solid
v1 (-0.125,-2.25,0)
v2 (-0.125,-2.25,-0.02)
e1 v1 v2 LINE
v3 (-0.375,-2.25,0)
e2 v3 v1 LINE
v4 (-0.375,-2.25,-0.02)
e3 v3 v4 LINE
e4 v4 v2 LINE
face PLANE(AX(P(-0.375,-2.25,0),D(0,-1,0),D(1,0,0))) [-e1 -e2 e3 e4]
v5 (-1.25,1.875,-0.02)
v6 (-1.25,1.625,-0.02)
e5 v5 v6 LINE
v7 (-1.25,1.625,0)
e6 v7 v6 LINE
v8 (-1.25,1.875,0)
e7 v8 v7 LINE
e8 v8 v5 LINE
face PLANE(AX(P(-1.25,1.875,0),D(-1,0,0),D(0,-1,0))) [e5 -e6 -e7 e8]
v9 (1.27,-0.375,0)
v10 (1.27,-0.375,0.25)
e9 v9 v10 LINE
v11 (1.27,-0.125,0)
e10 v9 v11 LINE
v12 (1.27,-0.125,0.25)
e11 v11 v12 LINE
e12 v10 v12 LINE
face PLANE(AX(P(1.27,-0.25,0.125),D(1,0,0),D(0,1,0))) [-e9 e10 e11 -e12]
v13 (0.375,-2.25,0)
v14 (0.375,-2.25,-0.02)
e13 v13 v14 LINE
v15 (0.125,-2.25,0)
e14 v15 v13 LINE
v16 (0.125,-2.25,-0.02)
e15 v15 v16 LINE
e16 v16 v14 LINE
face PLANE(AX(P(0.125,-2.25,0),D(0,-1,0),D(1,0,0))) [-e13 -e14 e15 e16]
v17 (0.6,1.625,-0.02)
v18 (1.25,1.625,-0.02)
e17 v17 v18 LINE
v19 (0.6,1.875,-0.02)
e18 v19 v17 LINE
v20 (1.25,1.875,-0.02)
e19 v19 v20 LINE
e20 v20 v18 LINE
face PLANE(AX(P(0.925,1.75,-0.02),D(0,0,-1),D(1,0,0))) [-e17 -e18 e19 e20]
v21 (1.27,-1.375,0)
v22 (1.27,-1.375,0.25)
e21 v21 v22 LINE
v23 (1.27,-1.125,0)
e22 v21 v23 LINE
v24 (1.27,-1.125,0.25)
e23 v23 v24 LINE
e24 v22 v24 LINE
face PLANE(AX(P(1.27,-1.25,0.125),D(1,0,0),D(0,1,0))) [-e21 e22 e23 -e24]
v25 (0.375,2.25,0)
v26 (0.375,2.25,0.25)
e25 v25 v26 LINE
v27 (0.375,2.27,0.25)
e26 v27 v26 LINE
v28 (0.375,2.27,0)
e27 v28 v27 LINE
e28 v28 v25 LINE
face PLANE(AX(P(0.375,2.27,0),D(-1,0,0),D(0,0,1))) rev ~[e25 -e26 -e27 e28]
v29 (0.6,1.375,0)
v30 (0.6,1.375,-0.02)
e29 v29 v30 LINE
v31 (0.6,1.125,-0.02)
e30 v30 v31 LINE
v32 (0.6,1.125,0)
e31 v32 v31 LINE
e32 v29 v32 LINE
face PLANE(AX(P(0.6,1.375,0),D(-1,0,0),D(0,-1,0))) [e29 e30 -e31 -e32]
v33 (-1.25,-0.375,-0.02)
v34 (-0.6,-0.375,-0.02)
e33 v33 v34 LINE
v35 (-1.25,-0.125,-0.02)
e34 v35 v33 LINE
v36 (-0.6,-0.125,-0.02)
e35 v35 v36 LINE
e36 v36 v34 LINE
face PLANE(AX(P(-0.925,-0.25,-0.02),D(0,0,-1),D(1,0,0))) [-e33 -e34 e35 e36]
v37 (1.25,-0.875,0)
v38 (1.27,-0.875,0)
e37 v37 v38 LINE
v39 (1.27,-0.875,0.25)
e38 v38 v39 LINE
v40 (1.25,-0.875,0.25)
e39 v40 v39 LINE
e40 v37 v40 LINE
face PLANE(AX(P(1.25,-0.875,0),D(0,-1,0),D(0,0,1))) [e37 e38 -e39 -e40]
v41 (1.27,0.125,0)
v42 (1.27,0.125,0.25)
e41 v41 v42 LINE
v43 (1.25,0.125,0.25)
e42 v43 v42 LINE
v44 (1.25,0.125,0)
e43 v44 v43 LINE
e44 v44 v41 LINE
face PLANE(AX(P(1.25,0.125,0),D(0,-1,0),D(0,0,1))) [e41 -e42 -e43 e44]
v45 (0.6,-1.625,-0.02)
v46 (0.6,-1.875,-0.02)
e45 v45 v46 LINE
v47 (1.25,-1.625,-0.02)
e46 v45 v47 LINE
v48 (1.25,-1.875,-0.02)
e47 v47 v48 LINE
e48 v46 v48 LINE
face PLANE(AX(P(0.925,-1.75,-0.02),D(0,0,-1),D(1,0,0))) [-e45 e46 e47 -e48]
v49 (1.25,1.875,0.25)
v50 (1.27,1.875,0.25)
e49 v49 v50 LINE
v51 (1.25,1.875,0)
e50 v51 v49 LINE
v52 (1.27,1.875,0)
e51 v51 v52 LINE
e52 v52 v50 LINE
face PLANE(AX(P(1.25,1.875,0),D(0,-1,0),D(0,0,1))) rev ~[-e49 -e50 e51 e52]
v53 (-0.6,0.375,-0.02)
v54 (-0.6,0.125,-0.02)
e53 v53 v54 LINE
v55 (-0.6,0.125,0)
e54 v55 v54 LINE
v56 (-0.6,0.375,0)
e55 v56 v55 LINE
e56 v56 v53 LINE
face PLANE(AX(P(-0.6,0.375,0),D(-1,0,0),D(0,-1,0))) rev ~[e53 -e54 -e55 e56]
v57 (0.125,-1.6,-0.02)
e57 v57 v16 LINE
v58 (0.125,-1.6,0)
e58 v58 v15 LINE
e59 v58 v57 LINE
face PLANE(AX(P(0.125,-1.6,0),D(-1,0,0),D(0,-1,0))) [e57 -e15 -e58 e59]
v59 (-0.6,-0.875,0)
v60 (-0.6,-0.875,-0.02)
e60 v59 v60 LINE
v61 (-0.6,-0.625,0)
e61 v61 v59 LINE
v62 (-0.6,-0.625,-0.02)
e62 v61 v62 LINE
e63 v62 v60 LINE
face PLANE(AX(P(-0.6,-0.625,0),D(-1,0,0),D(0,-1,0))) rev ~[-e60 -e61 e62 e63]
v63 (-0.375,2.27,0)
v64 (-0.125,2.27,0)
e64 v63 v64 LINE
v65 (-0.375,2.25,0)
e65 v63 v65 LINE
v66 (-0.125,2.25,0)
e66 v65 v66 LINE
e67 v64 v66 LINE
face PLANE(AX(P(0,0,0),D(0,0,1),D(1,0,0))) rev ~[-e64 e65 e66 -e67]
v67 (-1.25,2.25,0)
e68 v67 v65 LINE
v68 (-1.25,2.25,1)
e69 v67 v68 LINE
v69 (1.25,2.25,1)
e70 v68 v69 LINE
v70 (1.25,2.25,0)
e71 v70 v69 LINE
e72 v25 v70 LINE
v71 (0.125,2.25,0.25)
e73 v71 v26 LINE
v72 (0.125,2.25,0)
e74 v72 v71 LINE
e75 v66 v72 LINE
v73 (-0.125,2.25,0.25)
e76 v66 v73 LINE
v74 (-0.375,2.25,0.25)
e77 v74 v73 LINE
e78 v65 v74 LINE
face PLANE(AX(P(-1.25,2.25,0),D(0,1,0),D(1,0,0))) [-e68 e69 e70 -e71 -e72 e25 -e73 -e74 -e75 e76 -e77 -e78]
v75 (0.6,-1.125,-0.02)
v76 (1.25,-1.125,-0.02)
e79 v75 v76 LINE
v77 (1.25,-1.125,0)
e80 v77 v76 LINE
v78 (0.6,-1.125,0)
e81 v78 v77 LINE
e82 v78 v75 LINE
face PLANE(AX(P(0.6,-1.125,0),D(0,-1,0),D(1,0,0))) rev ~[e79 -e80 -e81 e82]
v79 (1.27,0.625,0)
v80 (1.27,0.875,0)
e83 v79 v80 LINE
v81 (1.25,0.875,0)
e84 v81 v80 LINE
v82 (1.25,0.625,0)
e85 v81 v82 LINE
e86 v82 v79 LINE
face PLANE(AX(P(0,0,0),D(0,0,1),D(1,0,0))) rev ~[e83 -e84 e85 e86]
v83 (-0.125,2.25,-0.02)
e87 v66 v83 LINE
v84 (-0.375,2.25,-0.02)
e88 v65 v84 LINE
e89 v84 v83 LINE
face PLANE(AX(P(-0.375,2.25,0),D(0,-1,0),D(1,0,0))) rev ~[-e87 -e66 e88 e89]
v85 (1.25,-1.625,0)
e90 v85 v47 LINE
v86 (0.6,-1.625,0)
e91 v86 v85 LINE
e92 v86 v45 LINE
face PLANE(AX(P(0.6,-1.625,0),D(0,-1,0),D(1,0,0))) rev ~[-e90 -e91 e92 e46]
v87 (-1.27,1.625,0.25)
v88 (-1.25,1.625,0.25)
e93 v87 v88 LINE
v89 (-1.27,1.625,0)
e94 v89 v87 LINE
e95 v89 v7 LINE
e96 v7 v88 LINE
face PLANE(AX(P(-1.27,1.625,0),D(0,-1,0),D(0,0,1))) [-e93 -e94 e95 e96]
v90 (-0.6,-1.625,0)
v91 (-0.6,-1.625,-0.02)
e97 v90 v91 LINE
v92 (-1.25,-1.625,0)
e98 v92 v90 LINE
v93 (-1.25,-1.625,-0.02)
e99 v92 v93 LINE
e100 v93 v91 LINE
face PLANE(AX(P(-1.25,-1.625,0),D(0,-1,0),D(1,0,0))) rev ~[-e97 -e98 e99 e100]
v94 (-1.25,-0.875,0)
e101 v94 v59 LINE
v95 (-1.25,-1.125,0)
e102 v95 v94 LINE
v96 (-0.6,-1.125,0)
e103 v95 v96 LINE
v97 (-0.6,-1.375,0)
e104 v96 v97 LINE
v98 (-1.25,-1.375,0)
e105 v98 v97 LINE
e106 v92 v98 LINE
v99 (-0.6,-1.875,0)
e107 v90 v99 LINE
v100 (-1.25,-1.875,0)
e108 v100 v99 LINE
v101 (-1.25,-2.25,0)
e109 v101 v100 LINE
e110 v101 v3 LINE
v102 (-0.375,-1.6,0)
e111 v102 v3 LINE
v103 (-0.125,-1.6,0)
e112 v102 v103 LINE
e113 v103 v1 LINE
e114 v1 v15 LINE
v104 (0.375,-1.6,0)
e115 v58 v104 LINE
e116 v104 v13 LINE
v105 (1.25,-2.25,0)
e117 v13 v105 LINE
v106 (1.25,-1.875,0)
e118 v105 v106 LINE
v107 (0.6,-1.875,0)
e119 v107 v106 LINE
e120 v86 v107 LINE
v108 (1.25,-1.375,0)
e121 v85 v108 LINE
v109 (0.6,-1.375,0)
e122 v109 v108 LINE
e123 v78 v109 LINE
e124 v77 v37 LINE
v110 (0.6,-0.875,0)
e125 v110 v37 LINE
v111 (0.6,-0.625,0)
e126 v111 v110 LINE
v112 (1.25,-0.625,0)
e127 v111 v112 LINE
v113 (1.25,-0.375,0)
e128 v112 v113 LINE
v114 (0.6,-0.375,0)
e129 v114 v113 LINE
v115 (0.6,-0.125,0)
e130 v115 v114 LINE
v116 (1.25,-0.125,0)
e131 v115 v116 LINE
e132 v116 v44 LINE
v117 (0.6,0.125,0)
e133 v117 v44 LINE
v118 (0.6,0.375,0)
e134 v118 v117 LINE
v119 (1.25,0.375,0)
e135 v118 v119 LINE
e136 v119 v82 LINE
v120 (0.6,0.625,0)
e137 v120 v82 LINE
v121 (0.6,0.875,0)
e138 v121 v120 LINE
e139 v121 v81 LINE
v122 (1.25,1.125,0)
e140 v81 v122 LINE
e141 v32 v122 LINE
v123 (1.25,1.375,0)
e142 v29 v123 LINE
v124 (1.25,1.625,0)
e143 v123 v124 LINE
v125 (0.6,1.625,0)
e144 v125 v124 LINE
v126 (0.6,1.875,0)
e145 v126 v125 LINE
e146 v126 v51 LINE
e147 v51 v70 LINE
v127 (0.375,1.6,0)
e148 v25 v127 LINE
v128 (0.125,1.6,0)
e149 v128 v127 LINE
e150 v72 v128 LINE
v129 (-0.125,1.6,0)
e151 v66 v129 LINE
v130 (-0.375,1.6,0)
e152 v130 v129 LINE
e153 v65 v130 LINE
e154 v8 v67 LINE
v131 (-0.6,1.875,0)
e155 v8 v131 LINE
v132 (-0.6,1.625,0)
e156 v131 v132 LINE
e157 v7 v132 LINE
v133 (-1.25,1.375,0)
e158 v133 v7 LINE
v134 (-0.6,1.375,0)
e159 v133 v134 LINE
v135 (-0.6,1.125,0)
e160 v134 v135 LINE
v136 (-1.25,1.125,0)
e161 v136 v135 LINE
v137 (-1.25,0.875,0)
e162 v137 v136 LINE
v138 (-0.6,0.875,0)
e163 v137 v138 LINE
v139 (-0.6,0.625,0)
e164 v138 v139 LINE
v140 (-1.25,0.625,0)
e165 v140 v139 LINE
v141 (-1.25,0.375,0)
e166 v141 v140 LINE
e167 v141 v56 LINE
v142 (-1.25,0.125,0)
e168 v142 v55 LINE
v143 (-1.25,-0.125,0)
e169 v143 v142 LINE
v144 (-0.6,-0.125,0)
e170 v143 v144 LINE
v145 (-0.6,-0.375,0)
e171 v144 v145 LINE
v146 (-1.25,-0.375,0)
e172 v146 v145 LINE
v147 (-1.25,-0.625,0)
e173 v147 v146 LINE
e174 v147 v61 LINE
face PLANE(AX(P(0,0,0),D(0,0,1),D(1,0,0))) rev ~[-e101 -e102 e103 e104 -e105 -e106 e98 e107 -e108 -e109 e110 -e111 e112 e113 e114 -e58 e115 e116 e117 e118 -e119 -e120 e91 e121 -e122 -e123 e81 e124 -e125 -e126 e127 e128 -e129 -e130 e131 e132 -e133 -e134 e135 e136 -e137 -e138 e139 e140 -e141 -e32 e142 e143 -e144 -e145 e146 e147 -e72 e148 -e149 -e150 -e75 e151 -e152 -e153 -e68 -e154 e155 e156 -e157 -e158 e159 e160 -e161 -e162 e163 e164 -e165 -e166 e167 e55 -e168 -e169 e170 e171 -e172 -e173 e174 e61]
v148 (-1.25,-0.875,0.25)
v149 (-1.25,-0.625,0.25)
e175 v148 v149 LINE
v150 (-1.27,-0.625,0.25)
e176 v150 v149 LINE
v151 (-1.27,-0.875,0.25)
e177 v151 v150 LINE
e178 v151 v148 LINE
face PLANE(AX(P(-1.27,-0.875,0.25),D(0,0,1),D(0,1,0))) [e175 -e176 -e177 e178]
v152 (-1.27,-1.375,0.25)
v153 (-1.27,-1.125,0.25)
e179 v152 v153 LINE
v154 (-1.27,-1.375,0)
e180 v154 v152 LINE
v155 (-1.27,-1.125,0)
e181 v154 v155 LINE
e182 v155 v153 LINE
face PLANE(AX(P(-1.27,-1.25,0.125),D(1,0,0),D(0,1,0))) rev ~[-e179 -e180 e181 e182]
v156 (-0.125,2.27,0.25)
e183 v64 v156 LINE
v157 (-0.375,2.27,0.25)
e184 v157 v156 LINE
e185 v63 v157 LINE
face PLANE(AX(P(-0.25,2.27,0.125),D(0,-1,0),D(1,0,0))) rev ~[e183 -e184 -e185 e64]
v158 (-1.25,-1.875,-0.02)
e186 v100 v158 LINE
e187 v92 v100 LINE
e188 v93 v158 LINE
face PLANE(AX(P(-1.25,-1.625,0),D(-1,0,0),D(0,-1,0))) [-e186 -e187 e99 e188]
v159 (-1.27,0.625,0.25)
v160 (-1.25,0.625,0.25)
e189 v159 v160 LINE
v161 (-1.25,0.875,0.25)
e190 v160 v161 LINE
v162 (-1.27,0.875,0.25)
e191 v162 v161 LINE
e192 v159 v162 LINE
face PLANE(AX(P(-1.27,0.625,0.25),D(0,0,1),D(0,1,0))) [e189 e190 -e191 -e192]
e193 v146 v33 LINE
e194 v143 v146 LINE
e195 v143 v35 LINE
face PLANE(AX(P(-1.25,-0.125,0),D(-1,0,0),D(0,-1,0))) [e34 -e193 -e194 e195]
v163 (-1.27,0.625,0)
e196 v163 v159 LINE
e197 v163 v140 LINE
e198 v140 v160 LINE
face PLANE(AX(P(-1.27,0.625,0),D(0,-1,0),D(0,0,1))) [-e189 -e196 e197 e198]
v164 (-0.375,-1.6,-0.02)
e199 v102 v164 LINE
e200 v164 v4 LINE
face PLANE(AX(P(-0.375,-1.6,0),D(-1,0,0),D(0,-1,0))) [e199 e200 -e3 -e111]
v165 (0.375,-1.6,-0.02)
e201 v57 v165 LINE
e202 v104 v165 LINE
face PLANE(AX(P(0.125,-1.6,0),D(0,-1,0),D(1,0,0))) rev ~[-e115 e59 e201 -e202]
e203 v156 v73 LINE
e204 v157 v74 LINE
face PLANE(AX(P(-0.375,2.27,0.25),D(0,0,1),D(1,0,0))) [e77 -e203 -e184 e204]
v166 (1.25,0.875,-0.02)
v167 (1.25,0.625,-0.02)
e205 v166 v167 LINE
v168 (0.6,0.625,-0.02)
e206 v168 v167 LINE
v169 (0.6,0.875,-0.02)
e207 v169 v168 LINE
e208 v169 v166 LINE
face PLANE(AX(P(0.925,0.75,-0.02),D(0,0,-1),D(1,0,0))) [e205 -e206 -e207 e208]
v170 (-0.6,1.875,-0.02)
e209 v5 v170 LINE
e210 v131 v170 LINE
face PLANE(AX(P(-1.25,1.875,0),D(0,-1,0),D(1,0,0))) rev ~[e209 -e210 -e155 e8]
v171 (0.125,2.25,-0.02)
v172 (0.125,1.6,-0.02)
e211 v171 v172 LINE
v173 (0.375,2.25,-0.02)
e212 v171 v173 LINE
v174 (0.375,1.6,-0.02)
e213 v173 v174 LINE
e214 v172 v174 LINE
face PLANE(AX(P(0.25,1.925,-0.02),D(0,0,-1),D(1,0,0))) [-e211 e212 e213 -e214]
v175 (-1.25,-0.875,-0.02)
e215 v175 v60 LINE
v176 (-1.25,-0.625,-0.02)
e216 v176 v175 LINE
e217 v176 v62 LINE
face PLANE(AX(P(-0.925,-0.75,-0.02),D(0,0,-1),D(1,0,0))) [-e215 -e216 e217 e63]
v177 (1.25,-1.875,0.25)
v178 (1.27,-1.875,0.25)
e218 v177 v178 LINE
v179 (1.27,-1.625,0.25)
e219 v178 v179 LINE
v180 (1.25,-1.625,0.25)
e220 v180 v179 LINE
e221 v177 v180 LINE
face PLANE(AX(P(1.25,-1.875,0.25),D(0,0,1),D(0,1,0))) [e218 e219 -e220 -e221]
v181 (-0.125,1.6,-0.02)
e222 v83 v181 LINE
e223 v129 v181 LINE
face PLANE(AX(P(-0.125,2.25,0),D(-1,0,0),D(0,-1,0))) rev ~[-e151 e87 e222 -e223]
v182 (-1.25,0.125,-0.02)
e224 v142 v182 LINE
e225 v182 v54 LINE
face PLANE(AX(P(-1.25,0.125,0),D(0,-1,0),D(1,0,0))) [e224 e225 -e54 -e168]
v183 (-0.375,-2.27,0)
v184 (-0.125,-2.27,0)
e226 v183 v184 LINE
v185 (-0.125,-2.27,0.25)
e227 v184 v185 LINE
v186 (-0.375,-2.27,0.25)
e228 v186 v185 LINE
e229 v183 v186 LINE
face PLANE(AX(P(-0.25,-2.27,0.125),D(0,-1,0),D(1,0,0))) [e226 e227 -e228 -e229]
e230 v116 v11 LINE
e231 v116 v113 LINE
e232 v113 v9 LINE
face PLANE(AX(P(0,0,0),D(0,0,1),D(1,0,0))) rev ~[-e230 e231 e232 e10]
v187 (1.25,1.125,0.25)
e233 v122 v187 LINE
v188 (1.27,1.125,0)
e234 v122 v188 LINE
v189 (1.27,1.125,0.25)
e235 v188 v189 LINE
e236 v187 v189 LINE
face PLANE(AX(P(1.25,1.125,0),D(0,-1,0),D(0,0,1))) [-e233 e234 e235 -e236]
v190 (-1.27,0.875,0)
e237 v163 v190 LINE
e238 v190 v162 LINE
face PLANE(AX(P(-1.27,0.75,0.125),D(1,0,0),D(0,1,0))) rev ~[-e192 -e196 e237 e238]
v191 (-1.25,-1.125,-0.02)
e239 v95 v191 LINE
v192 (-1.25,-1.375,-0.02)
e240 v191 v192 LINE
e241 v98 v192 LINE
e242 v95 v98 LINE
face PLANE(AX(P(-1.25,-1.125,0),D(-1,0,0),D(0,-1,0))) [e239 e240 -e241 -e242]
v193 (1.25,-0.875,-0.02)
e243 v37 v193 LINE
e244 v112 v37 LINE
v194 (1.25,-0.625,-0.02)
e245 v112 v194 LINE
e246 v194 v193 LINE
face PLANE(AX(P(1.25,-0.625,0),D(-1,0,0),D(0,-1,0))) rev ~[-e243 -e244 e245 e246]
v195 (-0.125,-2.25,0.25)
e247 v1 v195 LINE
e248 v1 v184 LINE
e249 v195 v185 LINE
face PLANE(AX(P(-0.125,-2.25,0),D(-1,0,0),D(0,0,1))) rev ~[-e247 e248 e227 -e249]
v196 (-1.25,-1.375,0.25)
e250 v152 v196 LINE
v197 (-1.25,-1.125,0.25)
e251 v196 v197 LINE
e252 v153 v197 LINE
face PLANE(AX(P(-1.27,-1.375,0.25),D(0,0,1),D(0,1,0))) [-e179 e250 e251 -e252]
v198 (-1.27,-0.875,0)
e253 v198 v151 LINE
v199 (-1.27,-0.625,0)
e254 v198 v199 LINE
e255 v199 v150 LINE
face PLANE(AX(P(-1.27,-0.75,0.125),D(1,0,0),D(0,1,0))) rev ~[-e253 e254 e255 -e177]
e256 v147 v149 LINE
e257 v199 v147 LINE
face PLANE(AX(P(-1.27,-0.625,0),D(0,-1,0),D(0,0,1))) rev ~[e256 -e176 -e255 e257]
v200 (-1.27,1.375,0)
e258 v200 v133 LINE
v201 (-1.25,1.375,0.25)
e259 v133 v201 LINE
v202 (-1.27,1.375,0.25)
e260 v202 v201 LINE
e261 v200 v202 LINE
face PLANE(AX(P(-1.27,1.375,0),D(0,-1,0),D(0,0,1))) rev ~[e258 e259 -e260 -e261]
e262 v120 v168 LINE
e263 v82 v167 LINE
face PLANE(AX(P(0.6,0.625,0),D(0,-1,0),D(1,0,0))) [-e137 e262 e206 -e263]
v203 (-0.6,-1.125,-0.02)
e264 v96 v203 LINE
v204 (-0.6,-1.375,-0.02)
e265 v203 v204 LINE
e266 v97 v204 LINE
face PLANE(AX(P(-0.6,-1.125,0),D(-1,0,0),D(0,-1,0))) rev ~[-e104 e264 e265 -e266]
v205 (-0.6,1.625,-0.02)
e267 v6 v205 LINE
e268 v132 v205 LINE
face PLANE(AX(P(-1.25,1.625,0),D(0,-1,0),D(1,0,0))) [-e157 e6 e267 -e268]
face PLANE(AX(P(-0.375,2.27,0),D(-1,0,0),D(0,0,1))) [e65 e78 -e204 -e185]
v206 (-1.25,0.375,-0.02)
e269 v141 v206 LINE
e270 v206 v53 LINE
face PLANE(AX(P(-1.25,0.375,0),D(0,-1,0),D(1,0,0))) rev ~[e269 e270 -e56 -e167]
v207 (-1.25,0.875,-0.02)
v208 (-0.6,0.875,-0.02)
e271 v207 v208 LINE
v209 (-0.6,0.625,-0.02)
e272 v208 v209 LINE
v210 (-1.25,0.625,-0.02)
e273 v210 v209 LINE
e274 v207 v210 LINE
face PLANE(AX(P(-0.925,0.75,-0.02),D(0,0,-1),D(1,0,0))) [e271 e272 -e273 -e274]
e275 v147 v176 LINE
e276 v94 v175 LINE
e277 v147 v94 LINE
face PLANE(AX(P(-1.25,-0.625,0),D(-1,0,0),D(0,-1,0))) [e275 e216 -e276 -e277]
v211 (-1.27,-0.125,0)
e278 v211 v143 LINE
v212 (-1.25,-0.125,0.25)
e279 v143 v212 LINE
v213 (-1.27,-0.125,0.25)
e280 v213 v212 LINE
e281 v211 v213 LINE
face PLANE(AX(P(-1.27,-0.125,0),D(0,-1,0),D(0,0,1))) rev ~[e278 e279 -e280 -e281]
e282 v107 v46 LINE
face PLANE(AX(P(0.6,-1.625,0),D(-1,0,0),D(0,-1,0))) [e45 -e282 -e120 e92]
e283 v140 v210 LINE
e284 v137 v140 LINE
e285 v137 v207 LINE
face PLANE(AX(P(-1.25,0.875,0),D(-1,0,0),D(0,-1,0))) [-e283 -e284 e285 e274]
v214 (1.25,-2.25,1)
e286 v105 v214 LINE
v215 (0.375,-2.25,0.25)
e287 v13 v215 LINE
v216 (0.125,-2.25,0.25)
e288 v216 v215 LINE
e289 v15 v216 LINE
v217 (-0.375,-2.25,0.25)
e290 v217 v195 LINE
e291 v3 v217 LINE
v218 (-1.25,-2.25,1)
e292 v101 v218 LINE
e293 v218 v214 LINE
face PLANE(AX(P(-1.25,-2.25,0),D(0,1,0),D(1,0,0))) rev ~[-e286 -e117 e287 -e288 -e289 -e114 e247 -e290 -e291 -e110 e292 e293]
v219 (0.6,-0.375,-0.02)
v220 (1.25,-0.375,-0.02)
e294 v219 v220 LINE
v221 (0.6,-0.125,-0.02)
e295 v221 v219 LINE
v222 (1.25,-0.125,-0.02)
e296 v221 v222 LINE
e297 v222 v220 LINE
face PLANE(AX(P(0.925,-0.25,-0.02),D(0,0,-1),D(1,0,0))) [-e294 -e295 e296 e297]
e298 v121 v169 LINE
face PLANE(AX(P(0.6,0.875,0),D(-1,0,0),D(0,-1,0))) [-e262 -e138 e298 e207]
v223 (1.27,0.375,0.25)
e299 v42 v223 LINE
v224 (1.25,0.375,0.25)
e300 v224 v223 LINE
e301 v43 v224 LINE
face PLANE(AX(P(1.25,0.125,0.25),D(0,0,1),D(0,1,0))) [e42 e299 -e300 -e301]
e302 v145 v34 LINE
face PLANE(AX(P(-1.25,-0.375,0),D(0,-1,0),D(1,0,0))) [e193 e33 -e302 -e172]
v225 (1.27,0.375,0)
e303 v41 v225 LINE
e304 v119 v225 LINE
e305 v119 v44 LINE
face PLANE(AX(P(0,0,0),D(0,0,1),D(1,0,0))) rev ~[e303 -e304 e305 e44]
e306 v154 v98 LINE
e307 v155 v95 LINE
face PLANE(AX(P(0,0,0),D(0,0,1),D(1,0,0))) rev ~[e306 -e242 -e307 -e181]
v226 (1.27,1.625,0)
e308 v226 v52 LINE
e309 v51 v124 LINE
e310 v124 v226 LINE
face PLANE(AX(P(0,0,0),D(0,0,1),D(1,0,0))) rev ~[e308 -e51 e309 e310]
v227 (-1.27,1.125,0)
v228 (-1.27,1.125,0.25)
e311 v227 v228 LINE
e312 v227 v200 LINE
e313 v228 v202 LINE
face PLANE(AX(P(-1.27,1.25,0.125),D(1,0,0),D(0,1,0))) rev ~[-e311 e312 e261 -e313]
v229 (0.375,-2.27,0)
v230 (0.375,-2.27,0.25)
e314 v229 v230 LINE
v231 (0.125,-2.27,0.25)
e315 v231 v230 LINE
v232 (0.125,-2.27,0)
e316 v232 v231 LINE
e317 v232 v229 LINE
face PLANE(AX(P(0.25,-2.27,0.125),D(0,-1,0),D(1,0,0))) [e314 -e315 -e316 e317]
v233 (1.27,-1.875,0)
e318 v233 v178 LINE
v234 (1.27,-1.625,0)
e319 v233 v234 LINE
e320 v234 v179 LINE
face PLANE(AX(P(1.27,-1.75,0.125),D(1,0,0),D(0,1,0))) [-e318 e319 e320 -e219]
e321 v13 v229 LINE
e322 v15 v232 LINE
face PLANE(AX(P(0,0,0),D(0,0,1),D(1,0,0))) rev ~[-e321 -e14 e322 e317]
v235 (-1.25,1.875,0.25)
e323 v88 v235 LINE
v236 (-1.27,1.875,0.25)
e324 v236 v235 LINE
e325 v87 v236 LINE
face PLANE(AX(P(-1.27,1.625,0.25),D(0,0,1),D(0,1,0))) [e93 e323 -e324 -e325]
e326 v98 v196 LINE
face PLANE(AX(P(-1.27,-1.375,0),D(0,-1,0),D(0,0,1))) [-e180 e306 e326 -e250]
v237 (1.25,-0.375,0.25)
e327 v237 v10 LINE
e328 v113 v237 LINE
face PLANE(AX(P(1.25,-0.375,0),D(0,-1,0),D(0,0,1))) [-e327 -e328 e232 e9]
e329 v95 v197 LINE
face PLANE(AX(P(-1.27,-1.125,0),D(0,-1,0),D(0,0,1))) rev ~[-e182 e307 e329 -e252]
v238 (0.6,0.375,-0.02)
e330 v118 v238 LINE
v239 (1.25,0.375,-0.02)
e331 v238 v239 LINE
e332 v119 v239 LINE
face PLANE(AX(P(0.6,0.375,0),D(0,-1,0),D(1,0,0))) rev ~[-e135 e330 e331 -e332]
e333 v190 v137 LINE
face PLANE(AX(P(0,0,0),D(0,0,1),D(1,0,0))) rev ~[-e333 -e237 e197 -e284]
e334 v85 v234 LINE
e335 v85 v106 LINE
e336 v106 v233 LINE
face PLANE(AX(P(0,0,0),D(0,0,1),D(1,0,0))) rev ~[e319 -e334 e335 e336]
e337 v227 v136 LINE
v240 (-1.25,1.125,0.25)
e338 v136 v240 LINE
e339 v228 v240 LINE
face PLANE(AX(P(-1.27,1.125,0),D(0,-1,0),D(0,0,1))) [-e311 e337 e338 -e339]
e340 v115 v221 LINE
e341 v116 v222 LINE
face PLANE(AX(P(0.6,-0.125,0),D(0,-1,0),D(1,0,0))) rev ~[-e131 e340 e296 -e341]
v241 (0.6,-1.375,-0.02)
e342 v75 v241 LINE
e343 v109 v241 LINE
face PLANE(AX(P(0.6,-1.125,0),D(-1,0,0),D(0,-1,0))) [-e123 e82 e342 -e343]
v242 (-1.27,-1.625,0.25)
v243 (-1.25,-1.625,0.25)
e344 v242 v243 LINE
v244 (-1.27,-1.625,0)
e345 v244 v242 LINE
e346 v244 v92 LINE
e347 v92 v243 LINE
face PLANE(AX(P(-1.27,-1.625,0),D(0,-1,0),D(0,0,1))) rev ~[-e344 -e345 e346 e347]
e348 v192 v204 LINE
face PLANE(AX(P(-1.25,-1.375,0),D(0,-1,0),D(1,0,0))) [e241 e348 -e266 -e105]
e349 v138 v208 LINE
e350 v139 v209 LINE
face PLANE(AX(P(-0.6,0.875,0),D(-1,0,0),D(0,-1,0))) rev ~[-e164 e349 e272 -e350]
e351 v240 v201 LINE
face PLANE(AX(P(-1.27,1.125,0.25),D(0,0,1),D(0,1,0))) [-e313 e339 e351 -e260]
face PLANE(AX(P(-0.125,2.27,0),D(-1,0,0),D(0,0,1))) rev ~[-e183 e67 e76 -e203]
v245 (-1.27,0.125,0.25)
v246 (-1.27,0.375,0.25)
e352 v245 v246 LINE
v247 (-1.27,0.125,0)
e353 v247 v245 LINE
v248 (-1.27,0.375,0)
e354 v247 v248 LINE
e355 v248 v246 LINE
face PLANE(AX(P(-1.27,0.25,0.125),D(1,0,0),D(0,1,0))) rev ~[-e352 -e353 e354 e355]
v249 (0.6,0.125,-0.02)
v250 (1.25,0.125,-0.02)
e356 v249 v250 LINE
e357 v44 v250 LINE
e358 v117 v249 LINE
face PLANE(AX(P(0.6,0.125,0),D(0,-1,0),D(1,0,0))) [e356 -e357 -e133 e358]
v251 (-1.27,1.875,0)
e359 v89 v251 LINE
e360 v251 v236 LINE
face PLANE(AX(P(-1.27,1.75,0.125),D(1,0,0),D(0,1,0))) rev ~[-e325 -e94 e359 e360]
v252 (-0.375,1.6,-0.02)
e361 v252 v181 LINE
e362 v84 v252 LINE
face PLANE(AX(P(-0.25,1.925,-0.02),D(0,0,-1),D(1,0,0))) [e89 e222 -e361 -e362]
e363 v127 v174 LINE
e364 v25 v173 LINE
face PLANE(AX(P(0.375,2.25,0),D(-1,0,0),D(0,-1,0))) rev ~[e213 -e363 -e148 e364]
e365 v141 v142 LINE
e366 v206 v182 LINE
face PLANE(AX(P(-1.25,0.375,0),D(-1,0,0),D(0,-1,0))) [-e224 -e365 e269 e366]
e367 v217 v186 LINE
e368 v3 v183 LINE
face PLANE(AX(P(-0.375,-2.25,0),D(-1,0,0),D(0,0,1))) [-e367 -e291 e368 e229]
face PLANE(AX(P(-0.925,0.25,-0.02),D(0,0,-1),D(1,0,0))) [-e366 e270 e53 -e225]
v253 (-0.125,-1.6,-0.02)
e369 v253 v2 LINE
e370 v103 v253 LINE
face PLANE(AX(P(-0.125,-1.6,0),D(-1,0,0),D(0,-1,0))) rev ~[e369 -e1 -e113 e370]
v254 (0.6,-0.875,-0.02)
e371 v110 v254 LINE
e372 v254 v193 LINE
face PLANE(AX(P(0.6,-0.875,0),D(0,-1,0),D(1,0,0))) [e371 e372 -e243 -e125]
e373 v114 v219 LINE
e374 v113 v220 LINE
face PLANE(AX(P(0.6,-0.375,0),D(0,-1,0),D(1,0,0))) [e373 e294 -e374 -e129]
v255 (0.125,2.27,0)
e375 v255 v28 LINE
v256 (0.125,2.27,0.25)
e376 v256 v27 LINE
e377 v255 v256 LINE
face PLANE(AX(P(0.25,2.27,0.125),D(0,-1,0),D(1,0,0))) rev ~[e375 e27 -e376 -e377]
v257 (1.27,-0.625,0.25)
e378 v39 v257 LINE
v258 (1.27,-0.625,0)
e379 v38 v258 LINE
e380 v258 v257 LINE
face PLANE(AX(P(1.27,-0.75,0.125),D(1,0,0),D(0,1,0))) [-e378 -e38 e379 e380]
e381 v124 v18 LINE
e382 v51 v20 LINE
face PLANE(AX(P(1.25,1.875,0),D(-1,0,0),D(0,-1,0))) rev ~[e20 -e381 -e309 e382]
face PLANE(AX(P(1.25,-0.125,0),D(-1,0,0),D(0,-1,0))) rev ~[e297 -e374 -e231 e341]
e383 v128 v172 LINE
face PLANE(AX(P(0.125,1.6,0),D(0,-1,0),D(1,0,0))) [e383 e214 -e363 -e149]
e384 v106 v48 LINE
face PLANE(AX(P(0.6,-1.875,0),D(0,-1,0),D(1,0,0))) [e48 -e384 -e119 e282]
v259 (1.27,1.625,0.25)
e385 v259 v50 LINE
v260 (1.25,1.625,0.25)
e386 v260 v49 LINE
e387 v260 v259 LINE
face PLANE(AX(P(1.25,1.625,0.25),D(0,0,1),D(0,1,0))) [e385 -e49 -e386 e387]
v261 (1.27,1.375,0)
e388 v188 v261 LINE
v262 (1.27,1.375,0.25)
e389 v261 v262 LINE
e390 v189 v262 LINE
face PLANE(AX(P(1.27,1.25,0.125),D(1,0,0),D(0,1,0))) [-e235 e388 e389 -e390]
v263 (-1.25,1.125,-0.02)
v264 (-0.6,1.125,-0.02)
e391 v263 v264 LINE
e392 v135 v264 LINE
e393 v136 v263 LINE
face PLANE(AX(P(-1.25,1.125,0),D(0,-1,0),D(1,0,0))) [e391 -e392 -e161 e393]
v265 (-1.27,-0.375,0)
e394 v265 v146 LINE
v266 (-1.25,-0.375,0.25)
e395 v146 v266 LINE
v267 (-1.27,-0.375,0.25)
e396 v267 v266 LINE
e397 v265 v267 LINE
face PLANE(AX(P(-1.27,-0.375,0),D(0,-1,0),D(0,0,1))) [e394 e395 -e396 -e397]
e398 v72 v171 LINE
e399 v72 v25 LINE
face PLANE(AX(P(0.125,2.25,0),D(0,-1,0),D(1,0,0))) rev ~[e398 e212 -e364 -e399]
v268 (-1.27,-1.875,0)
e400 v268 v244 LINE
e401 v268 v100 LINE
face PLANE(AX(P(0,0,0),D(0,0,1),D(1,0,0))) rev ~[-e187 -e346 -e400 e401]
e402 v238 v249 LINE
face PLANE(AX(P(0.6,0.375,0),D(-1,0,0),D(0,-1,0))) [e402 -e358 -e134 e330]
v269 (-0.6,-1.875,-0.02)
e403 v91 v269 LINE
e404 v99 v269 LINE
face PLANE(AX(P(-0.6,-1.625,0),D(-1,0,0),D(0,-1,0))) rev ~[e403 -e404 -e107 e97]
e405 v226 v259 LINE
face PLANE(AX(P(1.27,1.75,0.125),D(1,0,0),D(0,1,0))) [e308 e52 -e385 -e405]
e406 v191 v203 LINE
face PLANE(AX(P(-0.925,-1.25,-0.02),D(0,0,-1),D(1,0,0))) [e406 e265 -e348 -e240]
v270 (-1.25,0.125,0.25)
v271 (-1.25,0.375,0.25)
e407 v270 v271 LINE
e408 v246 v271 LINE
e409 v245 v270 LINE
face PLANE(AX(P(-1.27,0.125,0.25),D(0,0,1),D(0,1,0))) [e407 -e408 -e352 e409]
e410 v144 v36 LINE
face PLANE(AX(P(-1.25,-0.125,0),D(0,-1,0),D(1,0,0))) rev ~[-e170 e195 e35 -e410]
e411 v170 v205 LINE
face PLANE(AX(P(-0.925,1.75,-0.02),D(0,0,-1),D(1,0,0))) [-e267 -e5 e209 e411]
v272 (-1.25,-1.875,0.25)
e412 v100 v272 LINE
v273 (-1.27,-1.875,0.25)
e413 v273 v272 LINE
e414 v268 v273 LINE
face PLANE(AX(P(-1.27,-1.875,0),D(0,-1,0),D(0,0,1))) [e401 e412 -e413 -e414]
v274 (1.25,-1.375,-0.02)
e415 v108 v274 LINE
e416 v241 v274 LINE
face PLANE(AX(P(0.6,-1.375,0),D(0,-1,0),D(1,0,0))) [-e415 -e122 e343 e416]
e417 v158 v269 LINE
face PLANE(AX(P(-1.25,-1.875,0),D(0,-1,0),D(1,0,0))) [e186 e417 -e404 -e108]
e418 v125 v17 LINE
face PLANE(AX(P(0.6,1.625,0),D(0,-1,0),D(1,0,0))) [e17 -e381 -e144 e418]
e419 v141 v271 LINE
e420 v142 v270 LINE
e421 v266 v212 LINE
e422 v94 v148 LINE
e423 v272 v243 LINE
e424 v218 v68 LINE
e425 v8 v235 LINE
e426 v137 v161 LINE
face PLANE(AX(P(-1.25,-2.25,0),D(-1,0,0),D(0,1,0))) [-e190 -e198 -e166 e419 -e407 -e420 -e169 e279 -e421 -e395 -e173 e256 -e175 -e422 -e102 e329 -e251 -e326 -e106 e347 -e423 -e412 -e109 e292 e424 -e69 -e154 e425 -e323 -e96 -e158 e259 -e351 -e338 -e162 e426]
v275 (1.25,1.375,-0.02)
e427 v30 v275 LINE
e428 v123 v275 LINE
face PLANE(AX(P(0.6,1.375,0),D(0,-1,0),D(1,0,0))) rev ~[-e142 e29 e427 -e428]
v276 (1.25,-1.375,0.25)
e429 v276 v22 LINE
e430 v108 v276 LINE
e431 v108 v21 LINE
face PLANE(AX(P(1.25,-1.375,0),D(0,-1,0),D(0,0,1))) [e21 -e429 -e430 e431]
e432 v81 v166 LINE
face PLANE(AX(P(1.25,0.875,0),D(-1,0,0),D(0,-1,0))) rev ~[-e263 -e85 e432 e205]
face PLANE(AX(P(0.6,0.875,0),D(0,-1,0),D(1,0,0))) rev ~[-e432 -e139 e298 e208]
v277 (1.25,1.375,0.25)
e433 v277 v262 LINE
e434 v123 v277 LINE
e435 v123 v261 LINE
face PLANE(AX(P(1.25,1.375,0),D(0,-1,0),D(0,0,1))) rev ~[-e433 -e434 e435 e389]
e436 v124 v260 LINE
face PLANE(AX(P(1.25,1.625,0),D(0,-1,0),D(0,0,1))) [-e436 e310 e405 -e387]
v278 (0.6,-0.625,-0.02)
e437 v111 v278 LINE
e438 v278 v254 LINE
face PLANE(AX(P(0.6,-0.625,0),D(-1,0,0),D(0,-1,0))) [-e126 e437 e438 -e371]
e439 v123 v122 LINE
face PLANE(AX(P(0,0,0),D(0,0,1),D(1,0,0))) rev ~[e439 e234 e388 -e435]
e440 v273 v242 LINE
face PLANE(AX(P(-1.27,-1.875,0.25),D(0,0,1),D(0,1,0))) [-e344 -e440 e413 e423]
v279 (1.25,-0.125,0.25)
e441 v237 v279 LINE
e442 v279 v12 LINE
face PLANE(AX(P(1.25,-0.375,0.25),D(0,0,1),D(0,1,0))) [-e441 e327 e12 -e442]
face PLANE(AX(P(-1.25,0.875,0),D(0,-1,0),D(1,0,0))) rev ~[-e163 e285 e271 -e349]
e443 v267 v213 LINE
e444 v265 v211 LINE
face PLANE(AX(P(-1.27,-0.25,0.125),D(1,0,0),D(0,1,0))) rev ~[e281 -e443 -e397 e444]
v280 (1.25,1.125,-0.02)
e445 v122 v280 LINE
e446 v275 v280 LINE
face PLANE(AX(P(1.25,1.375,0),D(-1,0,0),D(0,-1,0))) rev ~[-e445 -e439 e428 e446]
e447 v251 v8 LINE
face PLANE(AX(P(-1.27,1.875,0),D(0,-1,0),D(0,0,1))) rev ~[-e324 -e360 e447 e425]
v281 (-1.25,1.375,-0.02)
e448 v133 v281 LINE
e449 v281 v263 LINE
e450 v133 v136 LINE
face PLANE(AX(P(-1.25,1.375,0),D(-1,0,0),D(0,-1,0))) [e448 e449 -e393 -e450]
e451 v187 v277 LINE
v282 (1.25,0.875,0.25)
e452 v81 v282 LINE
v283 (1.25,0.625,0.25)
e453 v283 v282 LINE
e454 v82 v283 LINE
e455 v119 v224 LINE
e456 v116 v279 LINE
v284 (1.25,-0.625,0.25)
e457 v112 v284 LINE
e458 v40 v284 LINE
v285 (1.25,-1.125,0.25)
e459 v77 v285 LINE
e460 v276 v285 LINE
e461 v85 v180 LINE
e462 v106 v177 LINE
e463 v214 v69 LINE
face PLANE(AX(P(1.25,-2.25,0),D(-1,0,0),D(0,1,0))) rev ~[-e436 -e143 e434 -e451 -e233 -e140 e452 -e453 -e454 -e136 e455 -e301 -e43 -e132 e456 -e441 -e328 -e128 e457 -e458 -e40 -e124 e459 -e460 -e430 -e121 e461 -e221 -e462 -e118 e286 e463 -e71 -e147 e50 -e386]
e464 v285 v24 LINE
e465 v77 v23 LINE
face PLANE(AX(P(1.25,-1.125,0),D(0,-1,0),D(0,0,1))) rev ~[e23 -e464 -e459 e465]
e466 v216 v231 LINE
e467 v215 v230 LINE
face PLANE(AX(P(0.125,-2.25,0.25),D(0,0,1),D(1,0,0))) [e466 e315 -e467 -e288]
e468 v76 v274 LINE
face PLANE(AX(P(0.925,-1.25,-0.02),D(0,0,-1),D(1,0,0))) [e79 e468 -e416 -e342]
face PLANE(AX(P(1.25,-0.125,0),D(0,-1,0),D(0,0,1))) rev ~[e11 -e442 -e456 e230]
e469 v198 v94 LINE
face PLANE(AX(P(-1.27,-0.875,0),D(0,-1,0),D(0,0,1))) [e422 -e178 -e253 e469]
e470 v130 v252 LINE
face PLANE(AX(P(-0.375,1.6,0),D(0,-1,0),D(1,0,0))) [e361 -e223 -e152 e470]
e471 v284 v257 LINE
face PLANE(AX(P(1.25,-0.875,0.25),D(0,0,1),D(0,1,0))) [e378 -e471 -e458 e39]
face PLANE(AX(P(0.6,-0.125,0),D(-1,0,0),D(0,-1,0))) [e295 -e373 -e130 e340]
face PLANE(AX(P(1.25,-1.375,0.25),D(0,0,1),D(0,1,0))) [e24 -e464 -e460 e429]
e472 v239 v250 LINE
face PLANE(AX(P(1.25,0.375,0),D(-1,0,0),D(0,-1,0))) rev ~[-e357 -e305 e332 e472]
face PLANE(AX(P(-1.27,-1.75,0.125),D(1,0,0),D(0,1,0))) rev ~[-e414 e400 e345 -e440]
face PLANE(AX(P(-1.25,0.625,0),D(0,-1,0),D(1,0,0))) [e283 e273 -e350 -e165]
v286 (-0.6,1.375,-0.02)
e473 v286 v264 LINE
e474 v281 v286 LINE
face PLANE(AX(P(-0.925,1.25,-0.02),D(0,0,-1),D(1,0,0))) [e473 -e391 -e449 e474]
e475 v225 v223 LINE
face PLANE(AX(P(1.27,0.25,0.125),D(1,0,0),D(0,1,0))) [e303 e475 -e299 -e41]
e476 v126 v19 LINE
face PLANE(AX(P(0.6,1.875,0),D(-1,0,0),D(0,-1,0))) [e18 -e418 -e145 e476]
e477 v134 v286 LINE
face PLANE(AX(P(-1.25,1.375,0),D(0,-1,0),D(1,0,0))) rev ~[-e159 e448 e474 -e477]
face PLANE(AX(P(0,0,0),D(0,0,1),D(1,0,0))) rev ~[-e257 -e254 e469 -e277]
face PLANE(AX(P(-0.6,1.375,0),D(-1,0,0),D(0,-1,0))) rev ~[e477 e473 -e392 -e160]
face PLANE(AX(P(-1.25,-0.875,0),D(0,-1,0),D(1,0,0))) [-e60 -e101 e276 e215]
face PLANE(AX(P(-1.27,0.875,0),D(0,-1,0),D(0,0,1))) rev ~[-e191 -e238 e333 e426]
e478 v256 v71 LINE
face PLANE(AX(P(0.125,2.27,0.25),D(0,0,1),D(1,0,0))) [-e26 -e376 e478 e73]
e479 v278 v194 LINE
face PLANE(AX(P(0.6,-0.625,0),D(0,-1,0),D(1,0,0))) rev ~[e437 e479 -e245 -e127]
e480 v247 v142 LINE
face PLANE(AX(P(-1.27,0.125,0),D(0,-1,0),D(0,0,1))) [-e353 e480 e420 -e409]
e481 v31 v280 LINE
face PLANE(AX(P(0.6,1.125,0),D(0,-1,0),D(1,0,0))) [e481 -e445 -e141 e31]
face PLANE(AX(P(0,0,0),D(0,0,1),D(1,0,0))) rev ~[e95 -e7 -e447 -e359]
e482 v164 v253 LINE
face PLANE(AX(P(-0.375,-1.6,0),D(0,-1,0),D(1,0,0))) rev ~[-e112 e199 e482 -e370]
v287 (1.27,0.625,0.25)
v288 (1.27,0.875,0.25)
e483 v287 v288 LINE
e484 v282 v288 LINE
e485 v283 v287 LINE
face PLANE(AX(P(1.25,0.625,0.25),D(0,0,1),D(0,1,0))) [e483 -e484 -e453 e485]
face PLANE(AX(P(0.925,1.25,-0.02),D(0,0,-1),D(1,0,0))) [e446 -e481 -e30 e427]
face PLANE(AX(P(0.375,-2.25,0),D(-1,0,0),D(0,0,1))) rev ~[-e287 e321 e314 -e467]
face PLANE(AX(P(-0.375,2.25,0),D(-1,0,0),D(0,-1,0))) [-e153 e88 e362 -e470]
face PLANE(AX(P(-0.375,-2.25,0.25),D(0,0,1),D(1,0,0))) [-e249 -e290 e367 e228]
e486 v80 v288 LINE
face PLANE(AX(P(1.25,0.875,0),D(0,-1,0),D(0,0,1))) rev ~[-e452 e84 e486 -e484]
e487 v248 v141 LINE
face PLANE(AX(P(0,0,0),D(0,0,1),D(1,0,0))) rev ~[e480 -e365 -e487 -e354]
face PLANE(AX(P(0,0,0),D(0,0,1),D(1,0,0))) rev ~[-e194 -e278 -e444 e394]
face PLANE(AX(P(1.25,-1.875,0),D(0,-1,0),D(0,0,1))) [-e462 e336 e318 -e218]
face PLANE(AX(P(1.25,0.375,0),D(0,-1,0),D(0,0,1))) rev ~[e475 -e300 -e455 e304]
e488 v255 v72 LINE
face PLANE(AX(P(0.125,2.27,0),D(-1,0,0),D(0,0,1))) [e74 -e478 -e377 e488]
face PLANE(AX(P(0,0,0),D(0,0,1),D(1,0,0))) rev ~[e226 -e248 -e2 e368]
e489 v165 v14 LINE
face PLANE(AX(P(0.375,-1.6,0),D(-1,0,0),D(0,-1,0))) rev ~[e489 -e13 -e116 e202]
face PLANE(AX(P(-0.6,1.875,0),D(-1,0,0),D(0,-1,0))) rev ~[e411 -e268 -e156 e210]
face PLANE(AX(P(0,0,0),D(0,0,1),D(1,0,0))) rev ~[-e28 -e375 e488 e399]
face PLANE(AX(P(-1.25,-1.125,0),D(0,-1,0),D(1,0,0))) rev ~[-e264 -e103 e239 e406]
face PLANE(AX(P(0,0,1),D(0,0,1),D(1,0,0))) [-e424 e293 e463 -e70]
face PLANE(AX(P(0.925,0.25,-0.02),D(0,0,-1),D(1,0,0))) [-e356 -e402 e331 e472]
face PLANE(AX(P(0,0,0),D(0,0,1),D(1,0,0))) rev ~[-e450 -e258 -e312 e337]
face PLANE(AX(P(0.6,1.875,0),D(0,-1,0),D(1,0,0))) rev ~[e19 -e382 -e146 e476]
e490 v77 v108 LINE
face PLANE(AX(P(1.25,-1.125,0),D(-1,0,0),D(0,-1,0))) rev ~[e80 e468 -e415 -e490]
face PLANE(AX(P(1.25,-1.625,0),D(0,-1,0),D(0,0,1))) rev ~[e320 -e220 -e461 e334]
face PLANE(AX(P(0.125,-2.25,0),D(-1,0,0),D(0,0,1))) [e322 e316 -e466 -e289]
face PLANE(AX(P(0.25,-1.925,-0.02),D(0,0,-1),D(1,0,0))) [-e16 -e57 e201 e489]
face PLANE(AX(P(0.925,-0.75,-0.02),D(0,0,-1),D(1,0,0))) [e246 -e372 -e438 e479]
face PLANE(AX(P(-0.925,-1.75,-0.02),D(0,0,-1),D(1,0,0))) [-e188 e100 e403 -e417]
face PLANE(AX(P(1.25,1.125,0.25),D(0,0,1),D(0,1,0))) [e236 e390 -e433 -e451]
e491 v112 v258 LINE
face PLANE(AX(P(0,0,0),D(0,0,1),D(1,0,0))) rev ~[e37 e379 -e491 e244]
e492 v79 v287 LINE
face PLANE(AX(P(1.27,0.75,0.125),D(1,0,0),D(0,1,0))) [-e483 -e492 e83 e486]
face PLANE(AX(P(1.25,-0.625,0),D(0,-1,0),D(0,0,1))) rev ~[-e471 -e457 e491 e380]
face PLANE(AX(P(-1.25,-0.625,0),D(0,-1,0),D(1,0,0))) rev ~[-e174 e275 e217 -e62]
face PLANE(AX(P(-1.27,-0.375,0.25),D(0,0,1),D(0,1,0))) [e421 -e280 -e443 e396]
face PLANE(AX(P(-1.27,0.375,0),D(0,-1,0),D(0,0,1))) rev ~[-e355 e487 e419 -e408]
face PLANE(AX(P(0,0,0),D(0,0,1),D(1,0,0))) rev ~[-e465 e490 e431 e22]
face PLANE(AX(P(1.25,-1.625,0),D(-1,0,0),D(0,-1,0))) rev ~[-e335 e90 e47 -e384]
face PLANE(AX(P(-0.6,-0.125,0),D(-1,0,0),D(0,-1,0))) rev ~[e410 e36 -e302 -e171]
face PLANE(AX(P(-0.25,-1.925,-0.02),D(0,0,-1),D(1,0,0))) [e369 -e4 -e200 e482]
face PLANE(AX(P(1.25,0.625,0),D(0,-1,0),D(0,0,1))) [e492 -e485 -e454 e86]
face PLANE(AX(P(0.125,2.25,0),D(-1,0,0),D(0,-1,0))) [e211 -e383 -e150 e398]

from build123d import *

# Parameters (mm, degrees)
SKETCH_W               = 2.5
SKETCH_H               = 4.5
PAD_DEPTH              = 1
SKETCH001_W            = 0.25
SKETCH001_H            = 0.25
PAD001_DEPTH           = 0.02
LINEARPATTERN_COUNT    = 2
LINEARPATTERN_PITCH    = 2.52
SKETCH002_W            = 0.25
SKETCH002_H            = 0.25
PAD002_DEPTH           = 0.02
LINEARPATTERN001_COUNT = 2
LINEARPATTERN001_PITCH = 4.52
SKETCH003_W            = 0.65
SKETCH003_H            = 0.25
SKETCH003_W_2          = 0.25
SKETCH003_H_2          = 0.65
PAD003_DEPTH           = 0.02


with BuildPart() as part:
    # Sketch → Pad (new body)
    with BuildSketch(Plane.XY):
        Rectangle(SKETCH_W, SKETCH_H)
    extrude(amount=PAD_DEPTH)

    # Sketch001 (on Face2 of Pad) → Pad001 (join)
    with BuildSketch(Plane.YZ.offset(1.25)):
        with Locations((-0.25, 0.125)):
            Rectangle(SKETCH001_W, SKETCH001_H)
        with Locations((0.25, 0.125)):
            Rectangle(SKETCH001_W, SKETCH001_H)
        with Locations((-0.75, 0.125)):
            Rectangle(SKETCH001_W, SKETCH001_H)
        with Locations((-1.75, 0.125)):
            Rectangle(SKETCH001_W, SKETCH001_H)
        with Locations((-1.25, 0.125)):
            Rectangle(SKETCH001_W, SKETCH001_H)
        with Locations((0.75, 0.125)):
            Rectangle(SKETCH001_W, SKETCH001_H)
        with Locations((1.25, 0.125)):
            Rectangle(SKETCH001_W, SKETCH001_H)
        with Locations((1.75, 0.125)):
            Rectangle(SKETCH001_W, SKETCH001_H)
    pad001 = extrude(amount=PAD001_DEPTH)

    # LinearPattern: Pad001 ×2
    with Locations(*[(-i * LINEARPATTERN_PITCH, 0, 0) for i in range(1, LINEARPATTERN_COUNT)]):
        add(pad001)

    # Sketch002 (on Face30 of LinearPattern) → Pad002 (join)
    with BuildSketch(Plane.XZ.offset(2.25)):
        with Locations((-0.25, 0.125)):
            Rectangle(SKETCH002_W, SKETCH002_H)
        with Locations((0.25, 0.125)):
            Rectangle(SKETCH002_W, SKETCH002_H)
    pad002 = extrude(amount=PAD002_DEPTH)

    # LinearPattern001: Pad002 ×2
    with Locations(*[(0, i * LINEARPATTERN001_PITCH, 0) for i in range(1, LINEARPATTERN001_COUNT)]):
        add(pad002)

    # Sketch003 (on Face2 of LinearPattern001) → Pad003 (join)
    with BuildSketch(Plane(origin=(0, 0, 0), x_dir=(1, 0, 0), z_dir=(0, 0, -1))):
        with Locations((-0.925, 1.75)):
            Rectangle(SKETCH003_W, SKETCH003_H)
        with Locations((-0.925, 1.25)):
            Rectangle(SKETCH003_W, SKETCH003_H)
        with Locations((-0.925, 0.75)):
            Rectangle(SKETCH003_W, SKETCH003_H)
        with Locations((-0.925, 0.25)):
            Rectangle(SKETCH003_W, SKETCH003_H)
        with Locations((-0.925, -0.25)):
            Rectangle(SKETCH003_W, SKETCH003_H)
        with Locations((-0.925, -0.75)):
            Rectangle(SKETCH003_W, SKETCH003_H)
        with Locations((-0.925, -1.25)):
            Rectangle(SKETCH003_W, SKETCH003_H)
        with Locations((-0.925, -1.75)):
            Rectangle(SKETCH003_W, SKETCH003_H)
        with Locations((-0.25, -1.925)):
            Rectangle(SKETCH003_W_2, SKETCH003_H_2)
        with Locations((0.25, -1.925)):
            Rectangle(SKETCH003_W_2, SKETCH003_H_2)
        with Locations((0.925, -1.75)):
            Rectangle(SKETCH003_W, SKETCH003_H)
        with Locations((0.925, -1.25)):
            Rectangle(SKETCH003_W, SKETCH003_H)
        with Locations((0.925, -0.75)):
            Rectangle(SKETCH003_W, SKETCH003_H)
        with Locations((0.925, -0.25)):
            Rectangle(SKETCH003_W, SKETCH003_H)
        with Locations((0.925, 0.25)):
            Rectangle(SKETCH003_W, SKETCH003_H)
        with Locations((0.925, 0.75)):
            Rectangle(SKETCH003_W, SKETCH003_H)
        with Locations((0.925, 1.25)):
            Rectangle(SKETCH003_W, SKETCH003_H)
        with Locations((0.925, 1.75)):
            Rectangle(SKETCH003_W, SKETCH003_H)
        with Locations((0.25, 1.925)):
            Rectangle(SKETCH003_W_2, SKETCH003_H_2)
        with Locations((-0.25, 1.925)):
            Rectangle(SKETCH003_W_2, SKETCH003_H_2)
    extrude(amount=PAD003_DEPTH)


solid = part.part
